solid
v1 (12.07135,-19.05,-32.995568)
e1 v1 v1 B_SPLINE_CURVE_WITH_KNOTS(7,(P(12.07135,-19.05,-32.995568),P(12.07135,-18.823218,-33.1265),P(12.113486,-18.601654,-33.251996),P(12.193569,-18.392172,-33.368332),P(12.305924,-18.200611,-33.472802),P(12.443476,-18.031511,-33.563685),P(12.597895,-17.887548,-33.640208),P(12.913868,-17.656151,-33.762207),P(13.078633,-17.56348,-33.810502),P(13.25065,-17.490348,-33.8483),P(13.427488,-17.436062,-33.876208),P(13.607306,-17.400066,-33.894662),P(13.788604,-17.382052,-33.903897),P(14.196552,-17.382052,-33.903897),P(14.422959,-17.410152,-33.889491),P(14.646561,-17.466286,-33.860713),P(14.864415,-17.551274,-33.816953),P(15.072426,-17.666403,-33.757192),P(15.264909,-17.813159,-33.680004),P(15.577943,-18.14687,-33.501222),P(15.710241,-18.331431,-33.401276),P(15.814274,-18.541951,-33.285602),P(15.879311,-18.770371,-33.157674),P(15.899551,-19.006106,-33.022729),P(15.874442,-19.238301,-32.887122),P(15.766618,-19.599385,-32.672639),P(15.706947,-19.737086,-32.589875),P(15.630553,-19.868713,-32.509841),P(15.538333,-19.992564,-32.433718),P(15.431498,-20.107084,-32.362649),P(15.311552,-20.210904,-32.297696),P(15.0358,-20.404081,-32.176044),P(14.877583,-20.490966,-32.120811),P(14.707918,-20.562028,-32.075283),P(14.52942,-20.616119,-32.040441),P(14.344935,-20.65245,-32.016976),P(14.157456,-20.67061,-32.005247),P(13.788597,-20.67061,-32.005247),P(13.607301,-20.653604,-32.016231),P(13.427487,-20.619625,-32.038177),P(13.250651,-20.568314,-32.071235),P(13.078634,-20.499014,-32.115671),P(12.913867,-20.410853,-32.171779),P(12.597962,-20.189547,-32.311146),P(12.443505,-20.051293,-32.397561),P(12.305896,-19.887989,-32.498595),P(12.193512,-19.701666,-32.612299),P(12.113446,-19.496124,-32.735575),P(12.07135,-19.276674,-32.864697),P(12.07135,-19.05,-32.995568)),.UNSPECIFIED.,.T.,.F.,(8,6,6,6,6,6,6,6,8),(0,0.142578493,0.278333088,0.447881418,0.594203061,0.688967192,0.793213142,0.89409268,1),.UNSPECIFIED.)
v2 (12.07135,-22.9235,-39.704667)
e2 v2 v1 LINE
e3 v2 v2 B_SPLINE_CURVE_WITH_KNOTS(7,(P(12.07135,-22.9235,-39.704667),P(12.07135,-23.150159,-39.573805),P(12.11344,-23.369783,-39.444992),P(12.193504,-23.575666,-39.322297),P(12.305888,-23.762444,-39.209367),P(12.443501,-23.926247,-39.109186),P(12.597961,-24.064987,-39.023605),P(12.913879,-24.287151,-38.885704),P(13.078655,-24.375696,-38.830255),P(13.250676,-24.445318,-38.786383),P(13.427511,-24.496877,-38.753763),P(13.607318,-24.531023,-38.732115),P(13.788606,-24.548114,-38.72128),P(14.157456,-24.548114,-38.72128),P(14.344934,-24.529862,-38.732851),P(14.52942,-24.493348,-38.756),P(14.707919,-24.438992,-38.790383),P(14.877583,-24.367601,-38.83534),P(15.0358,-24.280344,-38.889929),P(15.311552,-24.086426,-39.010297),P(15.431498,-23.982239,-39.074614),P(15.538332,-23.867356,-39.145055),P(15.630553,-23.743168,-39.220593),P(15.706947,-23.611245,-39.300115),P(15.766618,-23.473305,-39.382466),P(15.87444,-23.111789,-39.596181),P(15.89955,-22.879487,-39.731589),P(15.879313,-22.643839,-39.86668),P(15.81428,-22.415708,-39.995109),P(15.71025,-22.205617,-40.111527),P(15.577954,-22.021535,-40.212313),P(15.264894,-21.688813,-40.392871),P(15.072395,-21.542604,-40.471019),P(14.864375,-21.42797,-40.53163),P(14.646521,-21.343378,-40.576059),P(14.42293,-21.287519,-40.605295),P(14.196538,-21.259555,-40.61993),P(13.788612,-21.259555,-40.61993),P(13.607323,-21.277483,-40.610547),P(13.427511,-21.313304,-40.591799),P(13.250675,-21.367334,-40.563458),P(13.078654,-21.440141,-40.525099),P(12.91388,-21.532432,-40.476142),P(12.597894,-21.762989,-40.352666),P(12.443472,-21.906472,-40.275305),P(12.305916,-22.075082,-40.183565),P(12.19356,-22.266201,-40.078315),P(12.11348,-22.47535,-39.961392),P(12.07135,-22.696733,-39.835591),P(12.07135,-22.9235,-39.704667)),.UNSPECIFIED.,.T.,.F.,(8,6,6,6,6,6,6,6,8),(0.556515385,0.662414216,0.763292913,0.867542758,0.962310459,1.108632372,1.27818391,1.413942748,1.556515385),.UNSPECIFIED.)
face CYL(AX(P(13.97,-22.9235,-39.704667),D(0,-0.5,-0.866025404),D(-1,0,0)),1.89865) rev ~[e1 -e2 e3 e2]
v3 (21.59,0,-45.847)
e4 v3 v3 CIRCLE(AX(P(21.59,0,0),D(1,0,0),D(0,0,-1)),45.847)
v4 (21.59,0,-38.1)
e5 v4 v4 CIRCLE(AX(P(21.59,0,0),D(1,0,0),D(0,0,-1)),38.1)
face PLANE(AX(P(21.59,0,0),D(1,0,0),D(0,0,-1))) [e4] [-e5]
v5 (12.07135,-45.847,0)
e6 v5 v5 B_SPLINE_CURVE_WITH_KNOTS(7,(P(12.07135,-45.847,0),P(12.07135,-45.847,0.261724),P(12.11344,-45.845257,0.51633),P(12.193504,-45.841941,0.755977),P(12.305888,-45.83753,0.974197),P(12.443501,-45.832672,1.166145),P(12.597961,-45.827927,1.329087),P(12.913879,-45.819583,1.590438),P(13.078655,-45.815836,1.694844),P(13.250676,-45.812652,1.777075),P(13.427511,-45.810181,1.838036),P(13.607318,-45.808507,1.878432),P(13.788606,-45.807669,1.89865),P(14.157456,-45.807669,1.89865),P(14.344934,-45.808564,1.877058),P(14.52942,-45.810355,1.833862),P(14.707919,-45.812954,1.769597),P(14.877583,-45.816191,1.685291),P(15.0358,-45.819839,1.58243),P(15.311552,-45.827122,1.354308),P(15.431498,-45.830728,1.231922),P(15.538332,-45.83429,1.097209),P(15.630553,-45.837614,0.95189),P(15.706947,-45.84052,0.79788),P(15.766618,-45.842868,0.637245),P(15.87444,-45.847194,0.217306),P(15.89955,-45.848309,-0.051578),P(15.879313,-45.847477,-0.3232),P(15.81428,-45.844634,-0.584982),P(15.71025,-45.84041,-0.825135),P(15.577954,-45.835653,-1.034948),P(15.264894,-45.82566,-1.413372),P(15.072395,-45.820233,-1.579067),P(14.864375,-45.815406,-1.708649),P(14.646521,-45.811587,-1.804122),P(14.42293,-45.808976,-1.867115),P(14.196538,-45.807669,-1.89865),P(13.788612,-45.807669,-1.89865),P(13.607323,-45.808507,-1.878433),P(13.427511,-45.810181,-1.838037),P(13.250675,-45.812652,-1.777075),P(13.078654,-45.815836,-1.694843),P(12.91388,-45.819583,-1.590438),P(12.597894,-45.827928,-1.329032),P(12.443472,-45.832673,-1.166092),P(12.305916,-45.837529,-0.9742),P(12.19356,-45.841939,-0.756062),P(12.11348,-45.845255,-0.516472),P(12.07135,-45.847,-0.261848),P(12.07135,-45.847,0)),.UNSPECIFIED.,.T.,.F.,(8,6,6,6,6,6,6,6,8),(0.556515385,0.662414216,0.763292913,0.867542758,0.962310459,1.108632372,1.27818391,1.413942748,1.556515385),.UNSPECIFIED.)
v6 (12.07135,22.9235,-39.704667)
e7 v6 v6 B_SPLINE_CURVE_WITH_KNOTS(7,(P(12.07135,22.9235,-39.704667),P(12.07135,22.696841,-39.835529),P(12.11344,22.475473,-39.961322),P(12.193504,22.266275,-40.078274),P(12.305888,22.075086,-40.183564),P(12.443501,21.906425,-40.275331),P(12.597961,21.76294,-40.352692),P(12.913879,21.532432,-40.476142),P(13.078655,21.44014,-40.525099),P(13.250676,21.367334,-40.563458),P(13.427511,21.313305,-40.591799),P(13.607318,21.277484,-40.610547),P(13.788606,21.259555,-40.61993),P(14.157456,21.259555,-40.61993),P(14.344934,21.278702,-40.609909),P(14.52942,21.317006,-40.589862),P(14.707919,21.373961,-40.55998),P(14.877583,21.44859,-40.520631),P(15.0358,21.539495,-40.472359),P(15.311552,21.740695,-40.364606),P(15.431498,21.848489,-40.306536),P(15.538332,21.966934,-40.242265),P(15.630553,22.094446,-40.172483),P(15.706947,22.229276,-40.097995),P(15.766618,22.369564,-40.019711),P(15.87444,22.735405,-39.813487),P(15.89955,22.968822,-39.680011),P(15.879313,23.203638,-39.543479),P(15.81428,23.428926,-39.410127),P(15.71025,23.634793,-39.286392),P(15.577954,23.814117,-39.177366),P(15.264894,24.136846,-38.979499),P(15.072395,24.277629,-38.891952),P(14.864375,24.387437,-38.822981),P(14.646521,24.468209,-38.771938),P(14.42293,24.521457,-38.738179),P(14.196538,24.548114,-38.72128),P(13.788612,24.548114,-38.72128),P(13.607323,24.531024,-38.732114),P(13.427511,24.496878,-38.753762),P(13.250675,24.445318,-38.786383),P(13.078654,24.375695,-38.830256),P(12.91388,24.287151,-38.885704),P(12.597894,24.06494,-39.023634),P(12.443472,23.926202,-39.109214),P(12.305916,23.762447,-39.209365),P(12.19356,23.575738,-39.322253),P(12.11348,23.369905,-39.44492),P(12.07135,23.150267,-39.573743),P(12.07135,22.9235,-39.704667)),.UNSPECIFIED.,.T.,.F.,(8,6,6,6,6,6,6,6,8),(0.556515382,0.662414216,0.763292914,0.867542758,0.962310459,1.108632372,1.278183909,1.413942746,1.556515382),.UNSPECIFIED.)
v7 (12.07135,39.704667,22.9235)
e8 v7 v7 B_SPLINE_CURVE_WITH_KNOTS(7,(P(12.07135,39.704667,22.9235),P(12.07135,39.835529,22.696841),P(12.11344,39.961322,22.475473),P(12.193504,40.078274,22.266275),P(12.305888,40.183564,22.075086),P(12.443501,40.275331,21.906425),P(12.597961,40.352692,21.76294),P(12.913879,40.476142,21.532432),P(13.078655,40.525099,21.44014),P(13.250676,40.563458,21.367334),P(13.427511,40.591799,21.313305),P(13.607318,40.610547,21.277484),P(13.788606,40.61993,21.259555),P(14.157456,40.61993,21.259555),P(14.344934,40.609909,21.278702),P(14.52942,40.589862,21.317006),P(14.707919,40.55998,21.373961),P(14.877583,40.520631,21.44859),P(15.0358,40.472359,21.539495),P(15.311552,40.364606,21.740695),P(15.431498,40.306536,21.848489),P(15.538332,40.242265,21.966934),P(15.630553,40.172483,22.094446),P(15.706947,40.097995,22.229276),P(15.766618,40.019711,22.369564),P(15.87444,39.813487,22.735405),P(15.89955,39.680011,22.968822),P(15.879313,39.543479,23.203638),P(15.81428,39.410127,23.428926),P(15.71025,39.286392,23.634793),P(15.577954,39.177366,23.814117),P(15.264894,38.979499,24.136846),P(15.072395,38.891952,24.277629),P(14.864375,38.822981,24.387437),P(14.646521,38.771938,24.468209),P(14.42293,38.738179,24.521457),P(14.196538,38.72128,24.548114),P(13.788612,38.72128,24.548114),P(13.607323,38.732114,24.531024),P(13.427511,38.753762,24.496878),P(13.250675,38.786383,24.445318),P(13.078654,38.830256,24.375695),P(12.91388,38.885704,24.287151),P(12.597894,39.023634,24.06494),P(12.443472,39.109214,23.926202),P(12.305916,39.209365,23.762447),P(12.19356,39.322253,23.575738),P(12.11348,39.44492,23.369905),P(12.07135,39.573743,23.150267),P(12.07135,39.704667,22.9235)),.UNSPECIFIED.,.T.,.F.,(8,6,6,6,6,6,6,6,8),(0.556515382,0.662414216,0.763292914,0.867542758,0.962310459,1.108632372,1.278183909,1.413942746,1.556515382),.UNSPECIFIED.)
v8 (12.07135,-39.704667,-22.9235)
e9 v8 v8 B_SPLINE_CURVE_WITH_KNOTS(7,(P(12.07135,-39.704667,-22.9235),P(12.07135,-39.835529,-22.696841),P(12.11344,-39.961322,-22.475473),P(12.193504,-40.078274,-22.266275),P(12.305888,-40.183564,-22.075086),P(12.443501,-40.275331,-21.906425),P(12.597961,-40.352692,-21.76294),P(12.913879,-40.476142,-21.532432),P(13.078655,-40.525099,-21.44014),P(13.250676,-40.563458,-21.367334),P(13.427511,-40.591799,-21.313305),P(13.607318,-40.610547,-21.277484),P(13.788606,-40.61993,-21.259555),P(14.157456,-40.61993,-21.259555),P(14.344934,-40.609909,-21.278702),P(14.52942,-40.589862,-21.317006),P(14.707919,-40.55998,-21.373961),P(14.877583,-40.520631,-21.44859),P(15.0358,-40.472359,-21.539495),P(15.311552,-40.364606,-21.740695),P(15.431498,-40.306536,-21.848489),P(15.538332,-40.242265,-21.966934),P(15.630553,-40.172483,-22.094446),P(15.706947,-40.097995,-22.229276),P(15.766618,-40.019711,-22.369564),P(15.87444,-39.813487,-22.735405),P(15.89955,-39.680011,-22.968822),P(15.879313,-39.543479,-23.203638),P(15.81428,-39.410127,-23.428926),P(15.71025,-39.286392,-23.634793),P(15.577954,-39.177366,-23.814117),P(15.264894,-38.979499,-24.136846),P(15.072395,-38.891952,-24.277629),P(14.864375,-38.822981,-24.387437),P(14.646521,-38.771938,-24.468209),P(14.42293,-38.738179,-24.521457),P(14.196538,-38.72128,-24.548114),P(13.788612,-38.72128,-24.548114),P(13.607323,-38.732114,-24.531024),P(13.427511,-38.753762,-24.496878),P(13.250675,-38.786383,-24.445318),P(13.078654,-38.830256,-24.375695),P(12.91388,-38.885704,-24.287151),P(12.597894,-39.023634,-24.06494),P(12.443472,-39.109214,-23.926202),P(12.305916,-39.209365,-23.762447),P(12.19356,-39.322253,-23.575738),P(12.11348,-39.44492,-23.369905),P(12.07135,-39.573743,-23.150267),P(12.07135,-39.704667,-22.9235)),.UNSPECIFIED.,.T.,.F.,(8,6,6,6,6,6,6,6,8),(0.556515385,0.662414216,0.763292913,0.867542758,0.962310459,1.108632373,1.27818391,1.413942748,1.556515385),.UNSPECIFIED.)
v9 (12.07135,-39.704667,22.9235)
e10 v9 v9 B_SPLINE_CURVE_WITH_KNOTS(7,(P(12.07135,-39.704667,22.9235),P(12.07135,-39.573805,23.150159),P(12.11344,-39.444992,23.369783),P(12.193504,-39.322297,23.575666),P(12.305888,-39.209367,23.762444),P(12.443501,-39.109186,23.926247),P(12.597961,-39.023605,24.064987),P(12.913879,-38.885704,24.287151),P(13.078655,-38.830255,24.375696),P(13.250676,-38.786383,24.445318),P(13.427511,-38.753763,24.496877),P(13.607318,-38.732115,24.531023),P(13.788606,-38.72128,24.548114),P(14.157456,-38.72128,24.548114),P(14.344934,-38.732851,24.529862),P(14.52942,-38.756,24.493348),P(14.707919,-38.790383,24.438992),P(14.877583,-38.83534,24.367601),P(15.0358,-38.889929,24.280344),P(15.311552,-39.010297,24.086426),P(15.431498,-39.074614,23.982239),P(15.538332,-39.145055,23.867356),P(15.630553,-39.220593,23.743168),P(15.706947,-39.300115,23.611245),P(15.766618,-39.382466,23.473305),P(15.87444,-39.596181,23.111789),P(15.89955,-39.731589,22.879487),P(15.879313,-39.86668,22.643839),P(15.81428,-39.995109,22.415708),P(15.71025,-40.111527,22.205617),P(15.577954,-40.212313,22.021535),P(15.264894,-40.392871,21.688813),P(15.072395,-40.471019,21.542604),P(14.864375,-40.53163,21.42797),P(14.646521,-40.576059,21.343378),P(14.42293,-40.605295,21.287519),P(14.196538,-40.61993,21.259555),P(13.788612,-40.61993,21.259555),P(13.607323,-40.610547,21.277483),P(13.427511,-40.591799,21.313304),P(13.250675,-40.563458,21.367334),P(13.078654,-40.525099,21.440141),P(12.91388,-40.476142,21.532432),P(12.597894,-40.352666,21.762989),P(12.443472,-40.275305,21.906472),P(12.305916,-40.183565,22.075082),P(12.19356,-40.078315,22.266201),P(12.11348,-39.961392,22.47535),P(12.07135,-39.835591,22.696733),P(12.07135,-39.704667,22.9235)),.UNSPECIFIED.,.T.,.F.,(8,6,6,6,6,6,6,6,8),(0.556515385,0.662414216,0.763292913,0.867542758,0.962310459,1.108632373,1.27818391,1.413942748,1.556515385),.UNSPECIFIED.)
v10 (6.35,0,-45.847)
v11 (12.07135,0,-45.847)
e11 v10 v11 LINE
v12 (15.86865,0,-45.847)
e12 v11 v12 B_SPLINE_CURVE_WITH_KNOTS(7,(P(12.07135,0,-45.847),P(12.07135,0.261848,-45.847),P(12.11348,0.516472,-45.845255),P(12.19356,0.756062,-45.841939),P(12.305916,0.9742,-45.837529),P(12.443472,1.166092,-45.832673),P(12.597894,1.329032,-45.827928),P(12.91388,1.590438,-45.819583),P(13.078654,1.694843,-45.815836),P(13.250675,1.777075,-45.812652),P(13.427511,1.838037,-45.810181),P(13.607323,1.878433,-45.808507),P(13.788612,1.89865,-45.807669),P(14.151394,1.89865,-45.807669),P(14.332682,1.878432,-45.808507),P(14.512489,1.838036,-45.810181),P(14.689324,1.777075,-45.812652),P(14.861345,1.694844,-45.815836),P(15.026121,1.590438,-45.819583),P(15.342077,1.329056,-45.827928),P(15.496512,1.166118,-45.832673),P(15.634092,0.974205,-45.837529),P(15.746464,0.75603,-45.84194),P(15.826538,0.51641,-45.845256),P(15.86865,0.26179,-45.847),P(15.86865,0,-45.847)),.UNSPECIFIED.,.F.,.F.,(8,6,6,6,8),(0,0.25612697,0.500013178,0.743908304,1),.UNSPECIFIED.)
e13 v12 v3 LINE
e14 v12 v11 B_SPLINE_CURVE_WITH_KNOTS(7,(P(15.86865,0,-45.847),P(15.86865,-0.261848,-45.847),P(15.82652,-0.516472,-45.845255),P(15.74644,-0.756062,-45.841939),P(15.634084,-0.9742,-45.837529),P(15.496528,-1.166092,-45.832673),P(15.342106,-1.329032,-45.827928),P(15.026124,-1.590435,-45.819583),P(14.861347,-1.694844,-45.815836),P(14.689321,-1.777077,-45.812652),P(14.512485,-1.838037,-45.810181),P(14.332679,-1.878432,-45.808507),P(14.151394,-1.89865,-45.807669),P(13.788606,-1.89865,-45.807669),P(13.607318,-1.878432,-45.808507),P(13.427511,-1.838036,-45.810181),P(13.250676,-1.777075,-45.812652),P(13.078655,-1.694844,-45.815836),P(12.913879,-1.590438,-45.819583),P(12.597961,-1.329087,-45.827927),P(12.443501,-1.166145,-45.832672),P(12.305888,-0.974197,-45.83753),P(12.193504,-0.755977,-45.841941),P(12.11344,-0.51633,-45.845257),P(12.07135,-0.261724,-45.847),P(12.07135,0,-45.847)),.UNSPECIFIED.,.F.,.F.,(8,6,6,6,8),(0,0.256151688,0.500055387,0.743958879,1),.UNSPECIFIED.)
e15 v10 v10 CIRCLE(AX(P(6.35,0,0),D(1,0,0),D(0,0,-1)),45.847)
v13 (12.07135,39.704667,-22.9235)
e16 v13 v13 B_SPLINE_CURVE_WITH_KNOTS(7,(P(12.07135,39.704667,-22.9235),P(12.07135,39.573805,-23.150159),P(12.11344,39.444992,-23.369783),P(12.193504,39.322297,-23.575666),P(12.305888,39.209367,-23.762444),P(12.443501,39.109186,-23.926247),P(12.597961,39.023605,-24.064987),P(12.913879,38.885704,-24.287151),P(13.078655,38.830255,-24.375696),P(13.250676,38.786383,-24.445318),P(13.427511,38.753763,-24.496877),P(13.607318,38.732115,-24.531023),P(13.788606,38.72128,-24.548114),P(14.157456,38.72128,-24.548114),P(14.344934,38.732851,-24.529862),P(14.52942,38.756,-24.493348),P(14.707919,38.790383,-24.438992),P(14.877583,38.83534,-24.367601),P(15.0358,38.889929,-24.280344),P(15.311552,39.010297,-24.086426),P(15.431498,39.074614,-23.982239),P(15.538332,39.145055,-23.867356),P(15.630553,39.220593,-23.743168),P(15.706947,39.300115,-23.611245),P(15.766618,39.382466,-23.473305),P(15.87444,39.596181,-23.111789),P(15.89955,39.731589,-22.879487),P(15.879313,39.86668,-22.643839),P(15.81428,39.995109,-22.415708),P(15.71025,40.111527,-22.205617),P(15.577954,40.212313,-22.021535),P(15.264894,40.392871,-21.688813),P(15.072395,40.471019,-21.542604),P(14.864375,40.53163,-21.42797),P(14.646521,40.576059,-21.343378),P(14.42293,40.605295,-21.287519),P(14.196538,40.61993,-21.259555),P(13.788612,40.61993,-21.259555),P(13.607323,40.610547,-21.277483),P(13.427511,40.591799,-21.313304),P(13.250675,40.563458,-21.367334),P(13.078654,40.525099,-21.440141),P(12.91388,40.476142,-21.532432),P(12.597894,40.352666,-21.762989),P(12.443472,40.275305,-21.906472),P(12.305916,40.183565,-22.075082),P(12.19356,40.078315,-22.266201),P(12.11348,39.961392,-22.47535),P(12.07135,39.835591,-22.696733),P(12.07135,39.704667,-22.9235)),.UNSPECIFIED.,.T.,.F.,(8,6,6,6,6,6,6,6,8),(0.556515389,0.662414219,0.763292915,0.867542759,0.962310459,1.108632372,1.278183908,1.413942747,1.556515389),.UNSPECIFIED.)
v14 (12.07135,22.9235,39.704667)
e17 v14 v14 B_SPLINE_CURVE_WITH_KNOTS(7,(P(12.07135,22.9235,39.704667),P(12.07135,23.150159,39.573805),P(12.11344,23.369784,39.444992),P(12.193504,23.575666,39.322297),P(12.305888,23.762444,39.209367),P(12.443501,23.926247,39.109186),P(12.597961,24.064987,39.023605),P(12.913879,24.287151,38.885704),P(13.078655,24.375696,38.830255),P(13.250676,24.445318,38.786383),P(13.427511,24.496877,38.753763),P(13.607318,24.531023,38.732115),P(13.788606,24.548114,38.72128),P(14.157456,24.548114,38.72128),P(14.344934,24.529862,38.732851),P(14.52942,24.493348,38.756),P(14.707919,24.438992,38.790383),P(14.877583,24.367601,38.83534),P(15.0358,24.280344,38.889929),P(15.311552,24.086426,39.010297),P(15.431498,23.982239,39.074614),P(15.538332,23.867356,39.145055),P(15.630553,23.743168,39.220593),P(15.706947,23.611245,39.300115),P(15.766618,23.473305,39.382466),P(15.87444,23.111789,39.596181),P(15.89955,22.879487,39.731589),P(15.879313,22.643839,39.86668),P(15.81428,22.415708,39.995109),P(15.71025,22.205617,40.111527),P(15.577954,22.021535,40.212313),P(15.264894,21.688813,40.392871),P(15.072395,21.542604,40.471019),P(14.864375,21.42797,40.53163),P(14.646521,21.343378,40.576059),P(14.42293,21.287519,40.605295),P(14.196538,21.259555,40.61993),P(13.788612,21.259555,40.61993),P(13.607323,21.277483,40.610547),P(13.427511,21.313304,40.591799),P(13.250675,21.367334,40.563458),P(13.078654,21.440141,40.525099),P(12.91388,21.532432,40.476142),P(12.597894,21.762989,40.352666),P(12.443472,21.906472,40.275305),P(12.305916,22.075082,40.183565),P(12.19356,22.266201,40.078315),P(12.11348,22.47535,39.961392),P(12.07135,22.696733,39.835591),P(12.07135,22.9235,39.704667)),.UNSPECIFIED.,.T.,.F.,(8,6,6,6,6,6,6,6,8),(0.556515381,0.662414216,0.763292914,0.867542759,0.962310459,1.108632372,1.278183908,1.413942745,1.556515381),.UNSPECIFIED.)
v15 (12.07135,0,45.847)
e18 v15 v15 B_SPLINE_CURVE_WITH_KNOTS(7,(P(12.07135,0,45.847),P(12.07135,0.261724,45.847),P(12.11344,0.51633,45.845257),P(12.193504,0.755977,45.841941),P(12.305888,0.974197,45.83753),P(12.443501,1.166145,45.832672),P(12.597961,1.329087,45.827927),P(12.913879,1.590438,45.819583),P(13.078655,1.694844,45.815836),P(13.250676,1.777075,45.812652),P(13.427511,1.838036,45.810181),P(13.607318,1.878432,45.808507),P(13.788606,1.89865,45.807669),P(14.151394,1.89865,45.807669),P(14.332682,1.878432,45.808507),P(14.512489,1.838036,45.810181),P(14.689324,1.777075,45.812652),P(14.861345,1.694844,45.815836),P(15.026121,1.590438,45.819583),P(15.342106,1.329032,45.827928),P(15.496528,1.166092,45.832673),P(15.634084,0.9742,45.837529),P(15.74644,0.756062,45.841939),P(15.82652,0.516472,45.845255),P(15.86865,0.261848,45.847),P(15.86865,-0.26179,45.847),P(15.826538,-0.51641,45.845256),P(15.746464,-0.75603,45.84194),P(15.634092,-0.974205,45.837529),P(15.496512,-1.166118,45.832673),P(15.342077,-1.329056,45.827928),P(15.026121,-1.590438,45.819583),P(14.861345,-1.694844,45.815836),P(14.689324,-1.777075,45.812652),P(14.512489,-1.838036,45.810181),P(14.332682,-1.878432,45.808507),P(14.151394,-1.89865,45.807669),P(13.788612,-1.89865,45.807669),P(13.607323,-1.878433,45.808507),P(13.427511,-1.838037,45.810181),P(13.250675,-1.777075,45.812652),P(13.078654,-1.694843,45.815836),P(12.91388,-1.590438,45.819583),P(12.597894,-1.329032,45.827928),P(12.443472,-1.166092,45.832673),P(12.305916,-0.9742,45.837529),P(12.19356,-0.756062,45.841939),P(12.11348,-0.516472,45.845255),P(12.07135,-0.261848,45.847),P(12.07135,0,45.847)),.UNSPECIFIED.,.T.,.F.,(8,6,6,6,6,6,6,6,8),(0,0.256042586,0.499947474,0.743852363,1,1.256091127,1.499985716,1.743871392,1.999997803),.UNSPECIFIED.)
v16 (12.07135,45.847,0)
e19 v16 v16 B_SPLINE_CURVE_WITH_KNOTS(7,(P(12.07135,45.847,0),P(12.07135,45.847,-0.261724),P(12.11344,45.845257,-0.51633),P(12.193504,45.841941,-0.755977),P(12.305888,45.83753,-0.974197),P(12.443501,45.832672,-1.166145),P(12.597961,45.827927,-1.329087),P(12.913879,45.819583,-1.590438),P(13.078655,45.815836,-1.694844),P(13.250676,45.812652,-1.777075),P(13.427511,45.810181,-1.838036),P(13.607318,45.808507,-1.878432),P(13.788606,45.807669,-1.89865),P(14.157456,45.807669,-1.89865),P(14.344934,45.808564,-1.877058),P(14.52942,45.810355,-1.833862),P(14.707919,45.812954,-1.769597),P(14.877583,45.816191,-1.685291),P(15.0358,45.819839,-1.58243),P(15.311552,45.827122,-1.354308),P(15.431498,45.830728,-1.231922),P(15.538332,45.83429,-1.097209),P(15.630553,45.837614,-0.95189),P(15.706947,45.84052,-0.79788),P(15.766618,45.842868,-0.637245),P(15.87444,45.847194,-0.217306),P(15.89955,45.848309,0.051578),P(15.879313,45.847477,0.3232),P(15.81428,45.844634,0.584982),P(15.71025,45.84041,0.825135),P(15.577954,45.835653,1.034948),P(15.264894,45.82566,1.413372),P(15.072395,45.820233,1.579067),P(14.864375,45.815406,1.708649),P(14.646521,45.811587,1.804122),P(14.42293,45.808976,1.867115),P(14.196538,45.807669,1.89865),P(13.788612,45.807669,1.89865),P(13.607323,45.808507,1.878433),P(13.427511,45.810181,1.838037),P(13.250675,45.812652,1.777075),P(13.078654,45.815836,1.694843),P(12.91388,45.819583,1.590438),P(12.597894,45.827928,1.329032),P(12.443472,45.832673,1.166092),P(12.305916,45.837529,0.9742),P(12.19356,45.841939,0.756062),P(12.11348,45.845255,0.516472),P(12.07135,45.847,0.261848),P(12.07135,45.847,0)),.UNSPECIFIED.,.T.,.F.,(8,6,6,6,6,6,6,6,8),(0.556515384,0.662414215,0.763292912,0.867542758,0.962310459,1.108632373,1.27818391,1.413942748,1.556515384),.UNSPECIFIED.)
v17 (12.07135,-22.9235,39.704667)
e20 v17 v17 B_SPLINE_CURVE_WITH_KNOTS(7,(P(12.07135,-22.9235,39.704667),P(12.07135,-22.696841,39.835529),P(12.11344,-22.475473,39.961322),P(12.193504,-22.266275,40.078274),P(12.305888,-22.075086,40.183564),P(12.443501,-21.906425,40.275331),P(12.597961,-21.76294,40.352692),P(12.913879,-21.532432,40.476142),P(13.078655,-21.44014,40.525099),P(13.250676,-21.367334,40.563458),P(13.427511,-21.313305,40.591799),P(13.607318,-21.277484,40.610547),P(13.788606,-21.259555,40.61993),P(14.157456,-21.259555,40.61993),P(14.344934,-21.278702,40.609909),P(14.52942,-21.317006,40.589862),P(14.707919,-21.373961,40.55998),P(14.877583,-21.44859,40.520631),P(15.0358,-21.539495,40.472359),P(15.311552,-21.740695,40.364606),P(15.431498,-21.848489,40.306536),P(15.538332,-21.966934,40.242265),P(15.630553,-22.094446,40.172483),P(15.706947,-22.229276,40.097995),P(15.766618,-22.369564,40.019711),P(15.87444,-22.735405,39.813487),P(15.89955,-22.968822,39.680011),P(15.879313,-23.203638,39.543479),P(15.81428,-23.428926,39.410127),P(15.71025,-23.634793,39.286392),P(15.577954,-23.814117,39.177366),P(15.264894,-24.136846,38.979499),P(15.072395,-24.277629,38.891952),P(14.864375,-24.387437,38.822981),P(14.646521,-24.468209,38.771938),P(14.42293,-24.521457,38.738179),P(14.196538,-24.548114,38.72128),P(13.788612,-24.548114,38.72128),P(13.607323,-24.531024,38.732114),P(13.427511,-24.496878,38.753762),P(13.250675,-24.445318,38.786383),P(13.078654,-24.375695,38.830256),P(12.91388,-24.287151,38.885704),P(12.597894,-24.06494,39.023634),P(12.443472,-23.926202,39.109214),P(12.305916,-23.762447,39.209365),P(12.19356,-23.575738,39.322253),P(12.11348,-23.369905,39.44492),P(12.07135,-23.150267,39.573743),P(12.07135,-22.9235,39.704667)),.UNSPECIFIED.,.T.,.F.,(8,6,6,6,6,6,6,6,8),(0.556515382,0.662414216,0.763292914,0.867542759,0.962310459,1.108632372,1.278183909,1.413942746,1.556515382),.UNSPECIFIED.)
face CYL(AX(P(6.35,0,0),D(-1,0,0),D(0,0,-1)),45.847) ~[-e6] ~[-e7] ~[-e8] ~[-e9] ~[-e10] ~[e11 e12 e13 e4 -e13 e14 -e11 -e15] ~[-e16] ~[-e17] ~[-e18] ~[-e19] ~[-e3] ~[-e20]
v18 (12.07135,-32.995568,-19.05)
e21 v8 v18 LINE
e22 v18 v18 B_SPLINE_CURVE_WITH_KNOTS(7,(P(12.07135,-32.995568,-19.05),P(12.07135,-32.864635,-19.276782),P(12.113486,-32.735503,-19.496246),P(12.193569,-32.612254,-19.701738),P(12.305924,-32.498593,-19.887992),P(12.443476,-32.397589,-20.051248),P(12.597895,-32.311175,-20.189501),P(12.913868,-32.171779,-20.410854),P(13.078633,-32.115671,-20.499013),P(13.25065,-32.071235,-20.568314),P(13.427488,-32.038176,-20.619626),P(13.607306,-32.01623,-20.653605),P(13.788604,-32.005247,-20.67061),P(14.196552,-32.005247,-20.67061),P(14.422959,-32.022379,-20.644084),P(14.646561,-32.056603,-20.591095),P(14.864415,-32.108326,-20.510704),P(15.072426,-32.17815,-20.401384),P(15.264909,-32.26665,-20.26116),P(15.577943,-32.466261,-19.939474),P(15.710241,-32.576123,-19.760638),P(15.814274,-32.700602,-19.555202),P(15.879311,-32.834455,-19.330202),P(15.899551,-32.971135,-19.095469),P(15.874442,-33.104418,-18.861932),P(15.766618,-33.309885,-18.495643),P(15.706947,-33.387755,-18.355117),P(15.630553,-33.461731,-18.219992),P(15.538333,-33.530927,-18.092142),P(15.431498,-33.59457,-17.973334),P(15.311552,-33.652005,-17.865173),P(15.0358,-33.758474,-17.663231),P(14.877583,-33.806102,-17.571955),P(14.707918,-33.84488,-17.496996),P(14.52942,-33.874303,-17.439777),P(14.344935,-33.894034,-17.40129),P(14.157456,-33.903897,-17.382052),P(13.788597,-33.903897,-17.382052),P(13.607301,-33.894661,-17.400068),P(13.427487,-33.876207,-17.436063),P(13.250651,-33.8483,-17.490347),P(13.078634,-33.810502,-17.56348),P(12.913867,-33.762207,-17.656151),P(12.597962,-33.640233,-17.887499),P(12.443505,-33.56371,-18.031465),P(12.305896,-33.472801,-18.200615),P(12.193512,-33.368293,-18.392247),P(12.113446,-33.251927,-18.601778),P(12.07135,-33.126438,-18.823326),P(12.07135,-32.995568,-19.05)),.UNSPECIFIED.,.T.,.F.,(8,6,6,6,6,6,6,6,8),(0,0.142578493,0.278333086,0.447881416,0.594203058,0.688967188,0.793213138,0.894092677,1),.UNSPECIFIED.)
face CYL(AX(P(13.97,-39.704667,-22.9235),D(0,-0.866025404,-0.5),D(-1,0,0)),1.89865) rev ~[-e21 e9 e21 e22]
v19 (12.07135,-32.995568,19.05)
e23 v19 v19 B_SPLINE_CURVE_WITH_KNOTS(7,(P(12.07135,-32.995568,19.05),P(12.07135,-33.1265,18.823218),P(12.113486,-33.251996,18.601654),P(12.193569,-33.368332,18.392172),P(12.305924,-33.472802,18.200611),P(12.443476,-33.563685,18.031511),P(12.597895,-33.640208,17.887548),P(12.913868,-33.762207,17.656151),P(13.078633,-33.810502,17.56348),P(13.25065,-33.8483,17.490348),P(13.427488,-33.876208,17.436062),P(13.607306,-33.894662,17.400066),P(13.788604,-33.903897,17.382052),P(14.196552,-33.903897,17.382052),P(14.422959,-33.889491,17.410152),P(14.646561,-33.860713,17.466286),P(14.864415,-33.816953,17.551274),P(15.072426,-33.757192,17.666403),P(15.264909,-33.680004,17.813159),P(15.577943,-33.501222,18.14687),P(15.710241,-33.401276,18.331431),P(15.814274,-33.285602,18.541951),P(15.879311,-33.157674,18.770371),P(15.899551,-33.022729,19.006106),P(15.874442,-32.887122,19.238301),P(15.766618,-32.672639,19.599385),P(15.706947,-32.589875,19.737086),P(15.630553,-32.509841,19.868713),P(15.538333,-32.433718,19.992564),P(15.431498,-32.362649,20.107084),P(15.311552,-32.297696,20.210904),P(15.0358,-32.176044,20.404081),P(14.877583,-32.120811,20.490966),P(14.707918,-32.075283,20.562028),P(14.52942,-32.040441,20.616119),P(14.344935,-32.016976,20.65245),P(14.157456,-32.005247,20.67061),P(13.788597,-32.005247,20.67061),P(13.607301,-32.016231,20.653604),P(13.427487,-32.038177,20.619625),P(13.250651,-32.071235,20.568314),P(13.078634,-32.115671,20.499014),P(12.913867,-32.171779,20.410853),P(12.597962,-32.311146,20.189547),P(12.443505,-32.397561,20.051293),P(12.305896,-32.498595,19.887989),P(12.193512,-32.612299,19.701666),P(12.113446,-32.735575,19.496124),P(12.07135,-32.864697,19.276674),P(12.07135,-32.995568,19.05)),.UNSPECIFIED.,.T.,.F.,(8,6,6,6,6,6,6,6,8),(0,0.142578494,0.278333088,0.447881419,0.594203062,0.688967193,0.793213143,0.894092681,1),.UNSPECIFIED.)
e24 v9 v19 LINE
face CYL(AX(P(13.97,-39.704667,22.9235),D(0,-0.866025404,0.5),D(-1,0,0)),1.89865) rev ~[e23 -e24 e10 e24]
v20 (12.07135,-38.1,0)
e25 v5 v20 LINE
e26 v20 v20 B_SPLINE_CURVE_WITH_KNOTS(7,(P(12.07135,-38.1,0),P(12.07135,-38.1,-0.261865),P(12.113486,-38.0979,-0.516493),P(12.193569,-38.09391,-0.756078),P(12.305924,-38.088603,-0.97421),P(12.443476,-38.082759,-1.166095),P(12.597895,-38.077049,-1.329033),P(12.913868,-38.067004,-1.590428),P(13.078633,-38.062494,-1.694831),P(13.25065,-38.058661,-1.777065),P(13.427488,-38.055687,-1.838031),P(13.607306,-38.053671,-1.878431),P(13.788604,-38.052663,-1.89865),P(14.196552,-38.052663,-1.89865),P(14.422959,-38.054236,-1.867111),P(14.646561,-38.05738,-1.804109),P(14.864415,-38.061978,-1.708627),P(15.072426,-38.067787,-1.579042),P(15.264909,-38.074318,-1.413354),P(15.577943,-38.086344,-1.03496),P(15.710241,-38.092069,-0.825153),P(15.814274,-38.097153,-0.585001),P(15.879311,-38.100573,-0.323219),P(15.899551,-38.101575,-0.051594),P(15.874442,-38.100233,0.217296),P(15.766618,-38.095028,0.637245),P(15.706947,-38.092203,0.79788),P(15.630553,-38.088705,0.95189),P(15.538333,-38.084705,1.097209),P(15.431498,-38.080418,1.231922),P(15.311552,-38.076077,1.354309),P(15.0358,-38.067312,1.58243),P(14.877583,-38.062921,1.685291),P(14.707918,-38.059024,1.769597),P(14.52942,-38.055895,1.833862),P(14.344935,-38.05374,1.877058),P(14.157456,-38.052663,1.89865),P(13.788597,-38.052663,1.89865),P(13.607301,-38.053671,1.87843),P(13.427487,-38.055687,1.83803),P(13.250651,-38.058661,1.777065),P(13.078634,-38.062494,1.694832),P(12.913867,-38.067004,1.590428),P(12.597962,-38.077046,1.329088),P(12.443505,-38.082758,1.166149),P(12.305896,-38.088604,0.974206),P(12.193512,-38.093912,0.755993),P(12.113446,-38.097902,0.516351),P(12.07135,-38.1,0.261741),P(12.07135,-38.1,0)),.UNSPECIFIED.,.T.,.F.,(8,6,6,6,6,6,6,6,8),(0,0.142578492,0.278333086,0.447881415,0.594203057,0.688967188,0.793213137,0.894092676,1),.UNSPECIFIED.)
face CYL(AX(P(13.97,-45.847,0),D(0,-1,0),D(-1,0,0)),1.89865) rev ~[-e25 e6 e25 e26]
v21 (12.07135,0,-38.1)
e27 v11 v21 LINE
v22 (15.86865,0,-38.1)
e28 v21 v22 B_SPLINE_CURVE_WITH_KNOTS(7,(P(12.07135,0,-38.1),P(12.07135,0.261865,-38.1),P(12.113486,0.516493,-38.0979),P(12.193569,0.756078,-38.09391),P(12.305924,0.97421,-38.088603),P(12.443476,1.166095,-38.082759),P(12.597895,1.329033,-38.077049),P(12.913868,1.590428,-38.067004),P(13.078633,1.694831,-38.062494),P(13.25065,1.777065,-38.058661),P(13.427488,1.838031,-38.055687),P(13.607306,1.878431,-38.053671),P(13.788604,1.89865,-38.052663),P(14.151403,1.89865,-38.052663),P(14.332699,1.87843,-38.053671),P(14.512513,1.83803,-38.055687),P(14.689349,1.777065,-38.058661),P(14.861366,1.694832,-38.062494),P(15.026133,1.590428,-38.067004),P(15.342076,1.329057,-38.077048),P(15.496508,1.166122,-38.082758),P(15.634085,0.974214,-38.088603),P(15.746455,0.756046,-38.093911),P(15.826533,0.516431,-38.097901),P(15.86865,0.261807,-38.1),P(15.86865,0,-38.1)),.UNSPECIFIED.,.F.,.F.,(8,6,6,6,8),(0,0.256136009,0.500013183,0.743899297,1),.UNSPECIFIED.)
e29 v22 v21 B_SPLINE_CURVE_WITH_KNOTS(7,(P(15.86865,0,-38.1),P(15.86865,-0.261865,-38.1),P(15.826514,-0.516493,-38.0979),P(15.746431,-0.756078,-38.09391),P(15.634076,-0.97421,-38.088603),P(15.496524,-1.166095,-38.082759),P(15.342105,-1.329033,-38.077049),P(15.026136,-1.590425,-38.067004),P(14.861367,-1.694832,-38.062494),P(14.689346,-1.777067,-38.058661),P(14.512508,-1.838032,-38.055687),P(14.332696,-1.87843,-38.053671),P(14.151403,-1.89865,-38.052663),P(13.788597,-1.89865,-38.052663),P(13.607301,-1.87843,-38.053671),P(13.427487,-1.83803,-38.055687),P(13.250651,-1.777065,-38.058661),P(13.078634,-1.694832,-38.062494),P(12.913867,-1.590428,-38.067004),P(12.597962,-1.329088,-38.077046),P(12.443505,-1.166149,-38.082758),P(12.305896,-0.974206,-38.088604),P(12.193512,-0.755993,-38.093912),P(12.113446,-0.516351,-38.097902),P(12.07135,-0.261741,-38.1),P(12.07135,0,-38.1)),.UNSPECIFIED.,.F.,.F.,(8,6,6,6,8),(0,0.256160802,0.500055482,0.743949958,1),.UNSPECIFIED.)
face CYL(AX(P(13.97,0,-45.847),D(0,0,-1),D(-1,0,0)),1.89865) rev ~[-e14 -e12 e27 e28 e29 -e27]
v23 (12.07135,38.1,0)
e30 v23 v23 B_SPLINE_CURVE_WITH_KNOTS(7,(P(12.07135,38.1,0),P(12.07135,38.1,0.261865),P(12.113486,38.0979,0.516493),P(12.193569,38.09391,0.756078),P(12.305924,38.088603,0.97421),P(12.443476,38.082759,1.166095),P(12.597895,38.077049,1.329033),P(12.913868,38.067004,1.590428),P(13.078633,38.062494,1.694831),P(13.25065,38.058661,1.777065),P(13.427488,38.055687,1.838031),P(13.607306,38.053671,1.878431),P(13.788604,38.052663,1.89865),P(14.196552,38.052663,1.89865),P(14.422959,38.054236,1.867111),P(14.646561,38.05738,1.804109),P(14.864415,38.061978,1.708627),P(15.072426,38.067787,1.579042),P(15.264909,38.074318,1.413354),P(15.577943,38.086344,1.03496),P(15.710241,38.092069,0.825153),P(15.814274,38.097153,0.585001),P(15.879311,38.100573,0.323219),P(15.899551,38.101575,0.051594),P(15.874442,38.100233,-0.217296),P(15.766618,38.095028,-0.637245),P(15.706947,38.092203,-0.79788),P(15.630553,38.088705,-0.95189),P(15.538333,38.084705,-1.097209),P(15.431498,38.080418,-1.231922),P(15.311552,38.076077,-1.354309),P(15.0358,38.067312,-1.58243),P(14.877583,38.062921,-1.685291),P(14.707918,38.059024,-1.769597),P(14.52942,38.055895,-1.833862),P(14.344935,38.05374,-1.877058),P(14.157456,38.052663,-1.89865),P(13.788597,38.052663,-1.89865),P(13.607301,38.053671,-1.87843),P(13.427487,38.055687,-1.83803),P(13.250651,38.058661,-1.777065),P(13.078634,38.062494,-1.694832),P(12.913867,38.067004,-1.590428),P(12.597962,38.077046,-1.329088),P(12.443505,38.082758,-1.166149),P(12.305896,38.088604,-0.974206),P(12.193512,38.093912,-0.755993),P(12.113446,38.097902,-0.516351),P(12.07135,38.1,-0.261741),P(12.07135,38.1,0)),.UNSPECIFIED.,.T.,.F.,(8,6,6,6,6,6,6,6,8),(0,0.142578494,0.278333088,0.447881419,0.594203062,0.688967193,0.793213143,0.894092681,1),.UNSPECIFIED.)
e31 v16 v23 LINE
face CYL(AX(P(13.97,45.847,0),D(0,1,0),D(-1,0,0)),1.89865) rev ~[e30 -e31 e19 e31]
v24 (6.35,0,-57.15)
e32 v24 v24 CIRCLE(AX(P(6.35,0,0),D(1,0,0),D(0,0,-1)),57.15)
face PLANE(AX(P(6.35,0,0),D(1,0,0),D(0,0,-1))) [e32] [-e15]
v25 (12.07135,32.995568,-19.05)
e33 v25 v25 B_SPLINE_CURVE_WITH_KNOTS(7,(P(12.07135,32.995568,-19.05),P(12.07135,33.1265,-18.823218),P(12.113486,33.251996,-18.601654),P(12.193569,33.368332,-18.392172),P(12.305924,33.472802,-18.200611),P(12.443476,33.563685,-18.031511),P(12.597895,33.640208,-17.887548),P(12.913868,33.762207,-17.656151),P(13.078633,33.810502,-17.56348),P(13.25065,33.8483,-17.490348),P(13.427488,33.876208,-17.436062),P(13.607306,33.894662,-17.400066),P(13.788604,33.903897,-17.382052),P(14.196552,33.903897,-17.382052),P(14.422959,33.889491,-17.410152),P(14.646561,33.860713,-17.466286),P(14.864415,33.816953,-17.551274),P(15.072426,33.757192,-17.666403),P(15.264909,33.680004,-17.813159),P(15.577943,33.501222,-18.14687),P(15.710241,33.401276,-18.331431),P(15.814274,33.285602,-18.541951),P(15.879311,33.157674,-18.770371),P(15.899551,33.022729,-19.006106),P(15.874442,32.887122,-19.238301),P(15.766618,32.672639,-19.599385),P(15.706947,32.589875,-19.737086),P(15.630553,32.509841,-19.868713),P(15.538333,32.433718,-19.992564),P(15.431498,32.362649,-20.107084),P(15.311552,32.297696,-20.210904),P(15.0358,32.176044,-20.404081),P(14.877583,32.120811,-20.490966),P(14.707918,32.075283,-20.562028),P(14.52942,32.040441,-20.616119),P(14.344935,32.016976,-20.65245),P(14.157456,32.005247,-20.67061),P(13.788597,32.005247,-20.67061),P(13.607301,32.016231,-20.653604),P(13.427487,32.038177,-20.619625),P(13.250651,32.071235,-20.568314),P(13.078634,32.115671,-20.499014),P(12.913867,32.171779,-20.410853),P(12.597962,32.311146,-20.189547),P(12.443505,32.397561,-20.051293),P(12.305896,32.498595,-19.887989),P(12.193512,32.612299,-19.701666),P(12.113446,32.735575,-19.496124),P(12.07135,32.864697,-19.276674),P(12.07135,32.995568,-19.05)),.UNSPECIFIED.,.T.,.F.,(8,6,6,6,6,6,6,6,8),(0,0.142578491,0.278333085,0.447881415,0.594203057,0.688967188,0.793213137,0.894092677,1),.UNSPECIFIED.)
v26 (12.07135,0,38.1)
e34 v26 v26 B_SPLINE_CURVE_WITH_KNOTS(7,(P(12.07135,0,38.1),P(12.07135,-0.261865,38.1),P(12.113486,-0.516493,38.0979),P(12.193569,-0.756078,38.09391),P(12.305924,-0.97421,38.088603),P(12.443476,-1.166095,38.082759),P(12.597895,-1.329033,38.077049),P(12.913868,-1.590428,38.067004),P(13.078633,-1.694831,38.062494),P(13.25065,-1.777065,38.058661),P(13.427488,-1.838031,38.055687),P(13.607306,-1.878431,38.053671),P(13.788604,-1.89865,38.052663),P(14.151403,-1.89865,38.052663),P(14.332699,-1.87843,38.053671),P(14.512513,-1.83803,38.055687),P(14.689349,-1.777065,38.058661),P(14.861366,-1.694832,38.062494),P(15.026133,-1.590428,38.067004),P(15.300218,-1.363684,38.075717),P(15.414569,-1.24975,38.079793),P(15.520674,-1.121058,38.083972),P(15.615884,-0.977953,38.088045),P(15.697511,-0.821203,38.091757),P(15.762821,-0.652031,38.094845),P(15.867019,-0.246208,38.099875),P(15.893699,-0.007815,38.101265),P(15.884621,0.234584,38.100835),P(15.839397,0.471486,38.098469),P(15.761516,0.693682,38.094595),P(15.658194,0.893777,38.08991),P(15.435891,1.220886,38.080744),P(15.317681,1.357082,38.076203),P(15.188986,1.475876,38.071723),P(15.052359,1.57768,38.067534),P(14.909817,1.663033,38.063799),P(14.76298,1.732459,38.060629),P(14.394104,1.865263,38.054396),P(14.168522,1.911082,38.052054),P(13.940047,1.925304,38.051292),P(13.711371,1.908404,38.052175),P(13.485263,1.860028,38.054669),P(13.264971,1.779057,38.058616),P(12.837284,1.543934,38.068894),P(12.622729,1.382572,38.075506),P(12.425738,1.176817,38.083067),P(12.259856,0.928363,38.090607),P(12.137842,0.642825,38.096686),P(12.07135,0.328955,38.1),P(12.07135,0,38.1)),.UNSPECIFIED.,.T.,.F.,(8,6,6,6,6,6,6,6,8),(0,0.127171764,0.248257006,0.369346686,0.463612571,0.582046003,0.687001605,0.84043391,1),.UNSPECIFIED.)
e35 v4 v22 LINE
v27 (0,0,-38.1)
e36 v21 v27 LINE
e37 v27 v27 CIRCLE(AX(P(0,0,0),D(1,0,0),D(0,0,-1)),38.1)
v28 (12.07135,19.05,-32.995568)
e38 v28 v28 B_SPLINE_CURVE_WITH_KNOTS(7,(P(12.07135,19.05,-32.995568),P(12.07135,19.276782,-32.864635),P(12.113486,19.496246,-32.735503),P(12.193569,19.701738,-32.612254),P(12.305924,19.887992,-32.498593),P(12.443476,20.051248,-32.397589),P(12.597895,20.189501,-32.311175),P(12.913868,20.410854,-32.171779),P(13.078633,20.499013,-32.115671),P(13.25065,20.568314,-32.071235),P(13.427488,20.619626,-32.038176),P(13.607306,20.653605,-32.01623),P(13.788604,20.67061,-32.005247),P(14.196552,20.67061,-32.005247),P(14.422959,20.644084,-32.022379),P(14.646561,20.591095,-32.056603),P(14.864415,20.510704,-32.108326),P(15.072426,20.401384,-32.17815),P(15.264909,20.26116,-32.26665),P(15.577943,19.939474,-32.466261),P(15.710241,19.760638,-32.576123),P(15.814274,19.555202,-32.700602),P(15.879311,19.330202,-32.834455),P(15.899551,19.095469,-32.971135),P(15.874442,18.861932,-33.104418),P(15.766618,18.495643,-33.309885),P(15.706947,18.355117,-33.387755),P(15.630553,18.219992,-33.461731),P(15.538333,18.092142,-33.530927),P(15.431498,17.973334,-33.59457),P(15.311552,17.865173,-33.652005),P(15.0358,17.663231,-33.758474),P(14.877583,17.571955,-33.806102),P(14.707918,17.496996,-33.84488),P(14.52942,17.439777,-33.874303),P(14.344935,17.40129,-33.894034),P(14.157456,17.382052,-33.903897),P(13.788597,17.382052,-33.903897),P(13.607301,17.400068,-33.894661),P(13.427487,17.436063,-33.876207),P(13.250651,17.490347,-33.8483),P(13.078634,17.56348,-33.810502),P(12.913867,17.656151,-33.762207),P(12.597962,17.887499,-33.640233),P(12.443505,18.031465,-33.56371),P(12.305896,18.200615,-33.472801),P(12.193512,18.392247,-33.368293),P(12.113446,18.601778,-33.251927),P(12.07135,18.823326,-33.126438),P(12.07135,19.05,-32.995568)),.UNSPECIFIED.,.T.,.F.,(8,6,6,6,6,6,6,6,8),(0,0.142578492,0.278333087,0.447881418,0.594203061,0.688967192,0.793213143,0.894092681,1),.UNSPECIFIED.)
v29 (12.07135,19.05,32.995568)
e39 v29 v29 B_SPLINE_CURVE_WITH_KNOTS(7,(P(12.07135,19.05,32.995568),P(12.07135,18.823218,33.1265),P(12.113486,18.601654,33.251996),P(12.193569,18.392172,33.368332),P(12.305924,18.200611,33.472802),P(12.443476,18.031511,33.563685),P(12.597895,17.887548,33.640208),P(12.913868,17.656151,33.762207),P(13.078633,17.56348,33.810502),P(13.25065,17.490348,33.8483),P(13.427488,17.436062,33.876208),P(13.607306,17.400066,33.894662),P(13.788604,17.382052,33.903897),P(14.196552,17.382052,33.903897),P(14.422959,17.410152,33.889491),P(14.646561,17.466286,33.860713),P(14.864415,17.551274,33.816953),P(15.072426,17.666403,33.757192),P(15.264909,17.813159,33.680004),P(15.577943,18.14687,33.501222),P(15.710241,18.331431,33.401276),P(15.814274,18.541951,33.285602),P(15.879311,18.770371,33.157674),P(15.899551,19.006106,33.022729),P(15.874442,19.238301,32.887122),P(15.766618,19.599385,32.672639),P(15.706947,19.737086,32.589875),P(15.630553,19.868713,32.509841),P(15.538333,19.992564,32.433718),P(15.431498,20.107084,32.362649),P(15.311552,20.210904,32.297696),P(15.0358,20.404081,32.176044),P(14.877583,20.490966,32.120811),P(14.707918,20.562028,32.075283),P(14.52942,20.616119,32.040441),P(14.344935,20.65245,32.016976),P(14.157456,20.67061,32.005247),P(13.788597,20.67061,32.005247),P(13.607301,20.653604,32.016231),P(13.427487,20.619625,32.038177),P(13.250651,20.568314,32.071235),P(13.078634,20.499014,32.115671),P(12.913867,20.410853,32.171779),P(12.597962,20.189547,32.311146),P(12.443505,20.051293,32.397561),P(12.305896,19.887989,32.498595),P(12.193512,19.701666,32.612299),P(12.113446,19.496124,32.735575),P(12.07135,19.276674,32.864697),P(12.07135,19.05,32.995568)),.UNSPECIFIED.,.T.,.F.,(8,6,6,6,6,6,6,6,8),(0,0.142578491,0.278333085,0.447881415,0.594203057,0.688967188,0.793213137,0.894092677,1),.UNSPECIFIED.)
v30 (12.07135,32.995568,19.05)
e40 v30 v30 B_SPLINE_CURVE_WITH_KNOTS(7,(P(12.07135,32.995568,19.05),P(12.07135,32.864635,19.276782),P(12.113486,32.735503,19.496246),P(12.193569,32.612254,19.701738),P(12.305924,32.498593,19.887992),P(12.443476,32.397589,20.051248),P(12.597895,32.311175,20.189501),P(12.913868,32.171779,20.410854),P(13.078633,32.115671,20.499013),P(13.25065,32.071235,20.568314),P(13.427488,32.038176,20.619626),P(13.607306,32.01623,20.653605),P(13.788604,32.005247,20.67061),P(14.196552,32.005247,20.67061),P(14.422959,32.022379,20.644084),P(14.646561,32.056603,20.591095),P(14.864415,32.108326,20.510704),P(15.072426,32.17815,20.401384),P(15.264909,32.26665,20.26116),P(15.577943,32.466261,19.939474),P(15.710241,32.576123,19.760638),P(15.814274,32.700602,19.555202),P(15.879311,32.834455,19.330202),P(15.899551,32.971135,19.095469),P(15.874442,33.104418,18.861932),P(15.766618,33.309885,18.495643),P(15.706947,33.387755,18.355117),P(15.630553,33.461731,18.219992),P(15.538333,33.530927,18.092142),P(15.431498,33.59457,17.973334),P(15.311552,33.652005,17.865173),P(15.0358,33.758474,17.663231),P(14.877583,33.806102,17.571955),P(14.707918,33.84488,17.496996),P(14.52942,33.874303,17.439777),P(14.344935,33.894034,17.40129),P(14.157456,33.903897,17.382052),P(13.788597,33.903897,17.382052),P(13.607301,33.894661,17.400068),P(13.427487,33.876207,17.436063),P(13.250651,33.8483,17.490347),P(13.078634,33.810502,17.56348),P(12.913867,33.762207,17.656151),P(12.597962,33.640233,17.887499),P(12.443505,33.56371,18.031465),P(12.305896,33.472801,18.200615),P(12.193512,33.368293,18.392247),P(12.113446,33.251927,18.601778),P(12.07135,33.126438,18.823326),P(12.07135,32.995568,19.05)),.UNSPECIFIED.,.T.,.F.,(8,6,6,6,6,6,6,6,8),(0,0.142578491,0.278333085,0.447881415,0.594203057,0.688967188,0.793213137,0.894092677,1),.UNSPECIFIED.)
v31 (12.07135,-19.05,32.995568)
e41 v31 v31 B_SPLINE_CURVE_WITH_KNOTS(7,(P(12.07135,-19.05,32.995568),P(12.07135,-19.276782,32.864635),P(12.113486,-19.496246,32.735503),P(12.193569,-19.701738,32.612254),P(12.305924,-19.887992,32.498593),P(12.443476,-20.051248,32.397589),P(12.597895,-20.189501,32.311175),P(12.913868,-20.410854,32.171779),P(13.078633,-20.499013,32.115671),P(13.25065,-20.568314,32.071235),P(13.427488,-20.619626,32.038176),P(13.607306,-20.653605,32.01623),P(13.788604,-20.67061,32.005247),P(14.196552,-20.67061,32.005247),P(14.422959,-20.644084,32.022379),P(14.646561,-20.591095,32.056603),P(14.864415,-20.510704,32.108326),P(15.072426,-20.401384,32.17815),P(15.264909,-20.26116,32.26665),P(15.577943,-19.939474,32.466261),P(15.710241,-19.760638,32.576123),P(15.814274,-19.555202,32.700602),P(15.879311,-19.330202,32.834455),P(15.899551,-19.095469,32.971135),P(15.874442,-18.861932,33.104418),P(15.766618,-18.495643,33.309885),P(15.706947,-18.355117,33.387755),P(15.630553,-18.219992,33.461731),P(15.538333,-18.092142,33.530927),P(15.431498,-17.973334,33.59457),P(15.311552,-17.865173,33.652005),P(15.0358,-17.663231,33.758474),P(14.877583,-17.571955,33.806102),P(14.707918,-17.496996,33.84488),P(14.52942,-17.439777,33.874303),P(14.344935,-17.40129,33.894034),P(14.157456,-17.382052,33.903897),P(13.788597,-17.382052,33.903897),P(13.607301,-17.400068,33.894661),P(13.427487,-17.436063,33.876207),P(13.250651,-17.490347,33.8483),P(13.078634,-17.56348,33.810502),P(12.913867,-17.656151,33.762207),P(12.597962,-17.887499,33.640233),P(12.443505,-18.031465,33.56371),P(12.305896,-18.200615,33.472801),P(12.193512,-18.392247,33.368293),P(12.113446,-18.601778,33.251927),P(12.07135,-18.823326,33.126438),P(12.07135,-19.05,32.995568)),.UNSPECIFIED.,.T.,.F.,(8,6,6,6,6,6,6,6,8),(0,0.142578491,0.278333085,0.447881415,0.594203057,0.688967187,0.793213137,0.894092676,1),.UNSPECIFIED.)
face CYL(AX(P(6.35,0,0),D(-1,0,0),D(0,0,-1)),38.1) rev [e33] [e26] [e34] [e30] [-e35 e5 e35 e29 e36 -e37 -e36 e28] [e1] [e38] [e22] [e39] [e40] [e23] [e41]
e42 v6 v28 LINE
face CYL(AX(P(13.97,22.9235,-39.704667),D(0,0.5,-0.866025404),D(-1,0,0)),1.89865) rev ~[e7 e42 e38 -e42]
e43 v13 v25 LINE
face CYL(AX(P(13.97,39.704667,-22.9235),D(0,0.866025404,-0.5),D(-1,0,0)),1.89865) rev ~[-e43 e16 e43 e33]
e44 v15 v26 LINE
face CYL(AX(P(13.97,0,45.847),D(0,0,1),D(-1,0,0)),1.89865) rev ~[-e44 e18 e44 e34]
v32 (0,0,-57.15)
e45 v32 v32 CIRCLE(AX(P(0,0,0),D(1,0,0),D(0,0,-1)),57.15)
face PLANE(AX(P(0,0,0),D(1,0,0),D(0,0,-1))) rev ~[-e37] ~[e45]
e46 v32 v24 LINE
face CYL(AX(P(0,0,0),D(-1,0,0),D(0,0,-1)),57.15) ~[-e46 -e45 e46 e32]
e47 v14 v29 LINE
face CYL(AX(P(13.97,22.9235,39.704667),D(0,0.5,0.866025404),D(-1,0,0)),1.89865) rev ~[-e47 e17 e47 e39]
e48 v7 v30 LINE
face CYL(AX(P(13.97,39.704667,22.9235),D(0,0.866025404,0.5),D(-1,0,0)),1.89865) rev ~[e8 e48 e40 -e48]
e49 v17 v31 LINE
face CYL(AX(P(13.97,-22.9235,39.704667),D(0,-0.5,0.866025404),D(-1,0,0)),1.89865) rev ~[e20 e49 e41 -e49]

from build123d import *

# Parameters (mm, degrees)
SKETCH1_R           = 57.15
SKETCH1_R_2         = 38.1
BOSS_EXTRUDE1_DEPTH = 6.35
SKETCH2_R           = 45.847
SKETCH2_R_2         = 38.1
BOSS_EXTRUDE2_DEPTH = 15.24
SKETCH4_R           = 1.89865
CUT_EXTRUDE1_DEPTH  = 11.43
CIRPATTERN1_COUNT   = 12


with BuildPart() as part:
    # Sketch1 → Boss-Extrude1 (new body)
    with BuildSketch(Plane(origin=(0, 0, 0), x_dir=(0, 0, -1), z_dir=(1, 0, 0))):
        Circle(SKETCH1_R)
        Circle(SKETCH1_R_2, mode=Mode.SUBTRACT)
    extrude(amount=BOSS_EXTRUDE1_DEPTH)

    # Sketch2 → Boss-Extrude2 (add)
    with BuildSketch(Plane(origin=(6.35, 0, 0), x_dir=(0, 0, -1), z_dir=(1, 0, 0))):
        Circle(SKETCH2_R)
        Circle(SKETCH2_R_2, mode=Mode.SUBTRACT)
    extrude(amount=BOSS_EXTRUDE2_DEPTH)

    # Sketch4 → Cut-Extrude1 (cut)
    with BuildSketch(Plane(origin=(0, 0, -45.847), x_dir=(-1, 0, 0), z_dir=(0, 0, -1))):
        with Locations((-13.97, 0)):
            Circle(SKETCH4_R)
    cut_extrude1 = extrude(amount=-CUT_EXTRUDE1_DEPTH, mode=Mode.SUBTRACT)

    # CirPattern1: Cut-Extrude1 ×12 about axis
    cirpattern1_axis = Axis((0, 0, 0), (1, 0, 0))
    for i in range(1, CIRPATTERN1_COUNT):
        add(cut_extrude1.rotate(cirpattern1_axis, i * 360 / CIRPATTERN1_COUNT), mode=Mode.SUBTRACT)


solid = part.part
